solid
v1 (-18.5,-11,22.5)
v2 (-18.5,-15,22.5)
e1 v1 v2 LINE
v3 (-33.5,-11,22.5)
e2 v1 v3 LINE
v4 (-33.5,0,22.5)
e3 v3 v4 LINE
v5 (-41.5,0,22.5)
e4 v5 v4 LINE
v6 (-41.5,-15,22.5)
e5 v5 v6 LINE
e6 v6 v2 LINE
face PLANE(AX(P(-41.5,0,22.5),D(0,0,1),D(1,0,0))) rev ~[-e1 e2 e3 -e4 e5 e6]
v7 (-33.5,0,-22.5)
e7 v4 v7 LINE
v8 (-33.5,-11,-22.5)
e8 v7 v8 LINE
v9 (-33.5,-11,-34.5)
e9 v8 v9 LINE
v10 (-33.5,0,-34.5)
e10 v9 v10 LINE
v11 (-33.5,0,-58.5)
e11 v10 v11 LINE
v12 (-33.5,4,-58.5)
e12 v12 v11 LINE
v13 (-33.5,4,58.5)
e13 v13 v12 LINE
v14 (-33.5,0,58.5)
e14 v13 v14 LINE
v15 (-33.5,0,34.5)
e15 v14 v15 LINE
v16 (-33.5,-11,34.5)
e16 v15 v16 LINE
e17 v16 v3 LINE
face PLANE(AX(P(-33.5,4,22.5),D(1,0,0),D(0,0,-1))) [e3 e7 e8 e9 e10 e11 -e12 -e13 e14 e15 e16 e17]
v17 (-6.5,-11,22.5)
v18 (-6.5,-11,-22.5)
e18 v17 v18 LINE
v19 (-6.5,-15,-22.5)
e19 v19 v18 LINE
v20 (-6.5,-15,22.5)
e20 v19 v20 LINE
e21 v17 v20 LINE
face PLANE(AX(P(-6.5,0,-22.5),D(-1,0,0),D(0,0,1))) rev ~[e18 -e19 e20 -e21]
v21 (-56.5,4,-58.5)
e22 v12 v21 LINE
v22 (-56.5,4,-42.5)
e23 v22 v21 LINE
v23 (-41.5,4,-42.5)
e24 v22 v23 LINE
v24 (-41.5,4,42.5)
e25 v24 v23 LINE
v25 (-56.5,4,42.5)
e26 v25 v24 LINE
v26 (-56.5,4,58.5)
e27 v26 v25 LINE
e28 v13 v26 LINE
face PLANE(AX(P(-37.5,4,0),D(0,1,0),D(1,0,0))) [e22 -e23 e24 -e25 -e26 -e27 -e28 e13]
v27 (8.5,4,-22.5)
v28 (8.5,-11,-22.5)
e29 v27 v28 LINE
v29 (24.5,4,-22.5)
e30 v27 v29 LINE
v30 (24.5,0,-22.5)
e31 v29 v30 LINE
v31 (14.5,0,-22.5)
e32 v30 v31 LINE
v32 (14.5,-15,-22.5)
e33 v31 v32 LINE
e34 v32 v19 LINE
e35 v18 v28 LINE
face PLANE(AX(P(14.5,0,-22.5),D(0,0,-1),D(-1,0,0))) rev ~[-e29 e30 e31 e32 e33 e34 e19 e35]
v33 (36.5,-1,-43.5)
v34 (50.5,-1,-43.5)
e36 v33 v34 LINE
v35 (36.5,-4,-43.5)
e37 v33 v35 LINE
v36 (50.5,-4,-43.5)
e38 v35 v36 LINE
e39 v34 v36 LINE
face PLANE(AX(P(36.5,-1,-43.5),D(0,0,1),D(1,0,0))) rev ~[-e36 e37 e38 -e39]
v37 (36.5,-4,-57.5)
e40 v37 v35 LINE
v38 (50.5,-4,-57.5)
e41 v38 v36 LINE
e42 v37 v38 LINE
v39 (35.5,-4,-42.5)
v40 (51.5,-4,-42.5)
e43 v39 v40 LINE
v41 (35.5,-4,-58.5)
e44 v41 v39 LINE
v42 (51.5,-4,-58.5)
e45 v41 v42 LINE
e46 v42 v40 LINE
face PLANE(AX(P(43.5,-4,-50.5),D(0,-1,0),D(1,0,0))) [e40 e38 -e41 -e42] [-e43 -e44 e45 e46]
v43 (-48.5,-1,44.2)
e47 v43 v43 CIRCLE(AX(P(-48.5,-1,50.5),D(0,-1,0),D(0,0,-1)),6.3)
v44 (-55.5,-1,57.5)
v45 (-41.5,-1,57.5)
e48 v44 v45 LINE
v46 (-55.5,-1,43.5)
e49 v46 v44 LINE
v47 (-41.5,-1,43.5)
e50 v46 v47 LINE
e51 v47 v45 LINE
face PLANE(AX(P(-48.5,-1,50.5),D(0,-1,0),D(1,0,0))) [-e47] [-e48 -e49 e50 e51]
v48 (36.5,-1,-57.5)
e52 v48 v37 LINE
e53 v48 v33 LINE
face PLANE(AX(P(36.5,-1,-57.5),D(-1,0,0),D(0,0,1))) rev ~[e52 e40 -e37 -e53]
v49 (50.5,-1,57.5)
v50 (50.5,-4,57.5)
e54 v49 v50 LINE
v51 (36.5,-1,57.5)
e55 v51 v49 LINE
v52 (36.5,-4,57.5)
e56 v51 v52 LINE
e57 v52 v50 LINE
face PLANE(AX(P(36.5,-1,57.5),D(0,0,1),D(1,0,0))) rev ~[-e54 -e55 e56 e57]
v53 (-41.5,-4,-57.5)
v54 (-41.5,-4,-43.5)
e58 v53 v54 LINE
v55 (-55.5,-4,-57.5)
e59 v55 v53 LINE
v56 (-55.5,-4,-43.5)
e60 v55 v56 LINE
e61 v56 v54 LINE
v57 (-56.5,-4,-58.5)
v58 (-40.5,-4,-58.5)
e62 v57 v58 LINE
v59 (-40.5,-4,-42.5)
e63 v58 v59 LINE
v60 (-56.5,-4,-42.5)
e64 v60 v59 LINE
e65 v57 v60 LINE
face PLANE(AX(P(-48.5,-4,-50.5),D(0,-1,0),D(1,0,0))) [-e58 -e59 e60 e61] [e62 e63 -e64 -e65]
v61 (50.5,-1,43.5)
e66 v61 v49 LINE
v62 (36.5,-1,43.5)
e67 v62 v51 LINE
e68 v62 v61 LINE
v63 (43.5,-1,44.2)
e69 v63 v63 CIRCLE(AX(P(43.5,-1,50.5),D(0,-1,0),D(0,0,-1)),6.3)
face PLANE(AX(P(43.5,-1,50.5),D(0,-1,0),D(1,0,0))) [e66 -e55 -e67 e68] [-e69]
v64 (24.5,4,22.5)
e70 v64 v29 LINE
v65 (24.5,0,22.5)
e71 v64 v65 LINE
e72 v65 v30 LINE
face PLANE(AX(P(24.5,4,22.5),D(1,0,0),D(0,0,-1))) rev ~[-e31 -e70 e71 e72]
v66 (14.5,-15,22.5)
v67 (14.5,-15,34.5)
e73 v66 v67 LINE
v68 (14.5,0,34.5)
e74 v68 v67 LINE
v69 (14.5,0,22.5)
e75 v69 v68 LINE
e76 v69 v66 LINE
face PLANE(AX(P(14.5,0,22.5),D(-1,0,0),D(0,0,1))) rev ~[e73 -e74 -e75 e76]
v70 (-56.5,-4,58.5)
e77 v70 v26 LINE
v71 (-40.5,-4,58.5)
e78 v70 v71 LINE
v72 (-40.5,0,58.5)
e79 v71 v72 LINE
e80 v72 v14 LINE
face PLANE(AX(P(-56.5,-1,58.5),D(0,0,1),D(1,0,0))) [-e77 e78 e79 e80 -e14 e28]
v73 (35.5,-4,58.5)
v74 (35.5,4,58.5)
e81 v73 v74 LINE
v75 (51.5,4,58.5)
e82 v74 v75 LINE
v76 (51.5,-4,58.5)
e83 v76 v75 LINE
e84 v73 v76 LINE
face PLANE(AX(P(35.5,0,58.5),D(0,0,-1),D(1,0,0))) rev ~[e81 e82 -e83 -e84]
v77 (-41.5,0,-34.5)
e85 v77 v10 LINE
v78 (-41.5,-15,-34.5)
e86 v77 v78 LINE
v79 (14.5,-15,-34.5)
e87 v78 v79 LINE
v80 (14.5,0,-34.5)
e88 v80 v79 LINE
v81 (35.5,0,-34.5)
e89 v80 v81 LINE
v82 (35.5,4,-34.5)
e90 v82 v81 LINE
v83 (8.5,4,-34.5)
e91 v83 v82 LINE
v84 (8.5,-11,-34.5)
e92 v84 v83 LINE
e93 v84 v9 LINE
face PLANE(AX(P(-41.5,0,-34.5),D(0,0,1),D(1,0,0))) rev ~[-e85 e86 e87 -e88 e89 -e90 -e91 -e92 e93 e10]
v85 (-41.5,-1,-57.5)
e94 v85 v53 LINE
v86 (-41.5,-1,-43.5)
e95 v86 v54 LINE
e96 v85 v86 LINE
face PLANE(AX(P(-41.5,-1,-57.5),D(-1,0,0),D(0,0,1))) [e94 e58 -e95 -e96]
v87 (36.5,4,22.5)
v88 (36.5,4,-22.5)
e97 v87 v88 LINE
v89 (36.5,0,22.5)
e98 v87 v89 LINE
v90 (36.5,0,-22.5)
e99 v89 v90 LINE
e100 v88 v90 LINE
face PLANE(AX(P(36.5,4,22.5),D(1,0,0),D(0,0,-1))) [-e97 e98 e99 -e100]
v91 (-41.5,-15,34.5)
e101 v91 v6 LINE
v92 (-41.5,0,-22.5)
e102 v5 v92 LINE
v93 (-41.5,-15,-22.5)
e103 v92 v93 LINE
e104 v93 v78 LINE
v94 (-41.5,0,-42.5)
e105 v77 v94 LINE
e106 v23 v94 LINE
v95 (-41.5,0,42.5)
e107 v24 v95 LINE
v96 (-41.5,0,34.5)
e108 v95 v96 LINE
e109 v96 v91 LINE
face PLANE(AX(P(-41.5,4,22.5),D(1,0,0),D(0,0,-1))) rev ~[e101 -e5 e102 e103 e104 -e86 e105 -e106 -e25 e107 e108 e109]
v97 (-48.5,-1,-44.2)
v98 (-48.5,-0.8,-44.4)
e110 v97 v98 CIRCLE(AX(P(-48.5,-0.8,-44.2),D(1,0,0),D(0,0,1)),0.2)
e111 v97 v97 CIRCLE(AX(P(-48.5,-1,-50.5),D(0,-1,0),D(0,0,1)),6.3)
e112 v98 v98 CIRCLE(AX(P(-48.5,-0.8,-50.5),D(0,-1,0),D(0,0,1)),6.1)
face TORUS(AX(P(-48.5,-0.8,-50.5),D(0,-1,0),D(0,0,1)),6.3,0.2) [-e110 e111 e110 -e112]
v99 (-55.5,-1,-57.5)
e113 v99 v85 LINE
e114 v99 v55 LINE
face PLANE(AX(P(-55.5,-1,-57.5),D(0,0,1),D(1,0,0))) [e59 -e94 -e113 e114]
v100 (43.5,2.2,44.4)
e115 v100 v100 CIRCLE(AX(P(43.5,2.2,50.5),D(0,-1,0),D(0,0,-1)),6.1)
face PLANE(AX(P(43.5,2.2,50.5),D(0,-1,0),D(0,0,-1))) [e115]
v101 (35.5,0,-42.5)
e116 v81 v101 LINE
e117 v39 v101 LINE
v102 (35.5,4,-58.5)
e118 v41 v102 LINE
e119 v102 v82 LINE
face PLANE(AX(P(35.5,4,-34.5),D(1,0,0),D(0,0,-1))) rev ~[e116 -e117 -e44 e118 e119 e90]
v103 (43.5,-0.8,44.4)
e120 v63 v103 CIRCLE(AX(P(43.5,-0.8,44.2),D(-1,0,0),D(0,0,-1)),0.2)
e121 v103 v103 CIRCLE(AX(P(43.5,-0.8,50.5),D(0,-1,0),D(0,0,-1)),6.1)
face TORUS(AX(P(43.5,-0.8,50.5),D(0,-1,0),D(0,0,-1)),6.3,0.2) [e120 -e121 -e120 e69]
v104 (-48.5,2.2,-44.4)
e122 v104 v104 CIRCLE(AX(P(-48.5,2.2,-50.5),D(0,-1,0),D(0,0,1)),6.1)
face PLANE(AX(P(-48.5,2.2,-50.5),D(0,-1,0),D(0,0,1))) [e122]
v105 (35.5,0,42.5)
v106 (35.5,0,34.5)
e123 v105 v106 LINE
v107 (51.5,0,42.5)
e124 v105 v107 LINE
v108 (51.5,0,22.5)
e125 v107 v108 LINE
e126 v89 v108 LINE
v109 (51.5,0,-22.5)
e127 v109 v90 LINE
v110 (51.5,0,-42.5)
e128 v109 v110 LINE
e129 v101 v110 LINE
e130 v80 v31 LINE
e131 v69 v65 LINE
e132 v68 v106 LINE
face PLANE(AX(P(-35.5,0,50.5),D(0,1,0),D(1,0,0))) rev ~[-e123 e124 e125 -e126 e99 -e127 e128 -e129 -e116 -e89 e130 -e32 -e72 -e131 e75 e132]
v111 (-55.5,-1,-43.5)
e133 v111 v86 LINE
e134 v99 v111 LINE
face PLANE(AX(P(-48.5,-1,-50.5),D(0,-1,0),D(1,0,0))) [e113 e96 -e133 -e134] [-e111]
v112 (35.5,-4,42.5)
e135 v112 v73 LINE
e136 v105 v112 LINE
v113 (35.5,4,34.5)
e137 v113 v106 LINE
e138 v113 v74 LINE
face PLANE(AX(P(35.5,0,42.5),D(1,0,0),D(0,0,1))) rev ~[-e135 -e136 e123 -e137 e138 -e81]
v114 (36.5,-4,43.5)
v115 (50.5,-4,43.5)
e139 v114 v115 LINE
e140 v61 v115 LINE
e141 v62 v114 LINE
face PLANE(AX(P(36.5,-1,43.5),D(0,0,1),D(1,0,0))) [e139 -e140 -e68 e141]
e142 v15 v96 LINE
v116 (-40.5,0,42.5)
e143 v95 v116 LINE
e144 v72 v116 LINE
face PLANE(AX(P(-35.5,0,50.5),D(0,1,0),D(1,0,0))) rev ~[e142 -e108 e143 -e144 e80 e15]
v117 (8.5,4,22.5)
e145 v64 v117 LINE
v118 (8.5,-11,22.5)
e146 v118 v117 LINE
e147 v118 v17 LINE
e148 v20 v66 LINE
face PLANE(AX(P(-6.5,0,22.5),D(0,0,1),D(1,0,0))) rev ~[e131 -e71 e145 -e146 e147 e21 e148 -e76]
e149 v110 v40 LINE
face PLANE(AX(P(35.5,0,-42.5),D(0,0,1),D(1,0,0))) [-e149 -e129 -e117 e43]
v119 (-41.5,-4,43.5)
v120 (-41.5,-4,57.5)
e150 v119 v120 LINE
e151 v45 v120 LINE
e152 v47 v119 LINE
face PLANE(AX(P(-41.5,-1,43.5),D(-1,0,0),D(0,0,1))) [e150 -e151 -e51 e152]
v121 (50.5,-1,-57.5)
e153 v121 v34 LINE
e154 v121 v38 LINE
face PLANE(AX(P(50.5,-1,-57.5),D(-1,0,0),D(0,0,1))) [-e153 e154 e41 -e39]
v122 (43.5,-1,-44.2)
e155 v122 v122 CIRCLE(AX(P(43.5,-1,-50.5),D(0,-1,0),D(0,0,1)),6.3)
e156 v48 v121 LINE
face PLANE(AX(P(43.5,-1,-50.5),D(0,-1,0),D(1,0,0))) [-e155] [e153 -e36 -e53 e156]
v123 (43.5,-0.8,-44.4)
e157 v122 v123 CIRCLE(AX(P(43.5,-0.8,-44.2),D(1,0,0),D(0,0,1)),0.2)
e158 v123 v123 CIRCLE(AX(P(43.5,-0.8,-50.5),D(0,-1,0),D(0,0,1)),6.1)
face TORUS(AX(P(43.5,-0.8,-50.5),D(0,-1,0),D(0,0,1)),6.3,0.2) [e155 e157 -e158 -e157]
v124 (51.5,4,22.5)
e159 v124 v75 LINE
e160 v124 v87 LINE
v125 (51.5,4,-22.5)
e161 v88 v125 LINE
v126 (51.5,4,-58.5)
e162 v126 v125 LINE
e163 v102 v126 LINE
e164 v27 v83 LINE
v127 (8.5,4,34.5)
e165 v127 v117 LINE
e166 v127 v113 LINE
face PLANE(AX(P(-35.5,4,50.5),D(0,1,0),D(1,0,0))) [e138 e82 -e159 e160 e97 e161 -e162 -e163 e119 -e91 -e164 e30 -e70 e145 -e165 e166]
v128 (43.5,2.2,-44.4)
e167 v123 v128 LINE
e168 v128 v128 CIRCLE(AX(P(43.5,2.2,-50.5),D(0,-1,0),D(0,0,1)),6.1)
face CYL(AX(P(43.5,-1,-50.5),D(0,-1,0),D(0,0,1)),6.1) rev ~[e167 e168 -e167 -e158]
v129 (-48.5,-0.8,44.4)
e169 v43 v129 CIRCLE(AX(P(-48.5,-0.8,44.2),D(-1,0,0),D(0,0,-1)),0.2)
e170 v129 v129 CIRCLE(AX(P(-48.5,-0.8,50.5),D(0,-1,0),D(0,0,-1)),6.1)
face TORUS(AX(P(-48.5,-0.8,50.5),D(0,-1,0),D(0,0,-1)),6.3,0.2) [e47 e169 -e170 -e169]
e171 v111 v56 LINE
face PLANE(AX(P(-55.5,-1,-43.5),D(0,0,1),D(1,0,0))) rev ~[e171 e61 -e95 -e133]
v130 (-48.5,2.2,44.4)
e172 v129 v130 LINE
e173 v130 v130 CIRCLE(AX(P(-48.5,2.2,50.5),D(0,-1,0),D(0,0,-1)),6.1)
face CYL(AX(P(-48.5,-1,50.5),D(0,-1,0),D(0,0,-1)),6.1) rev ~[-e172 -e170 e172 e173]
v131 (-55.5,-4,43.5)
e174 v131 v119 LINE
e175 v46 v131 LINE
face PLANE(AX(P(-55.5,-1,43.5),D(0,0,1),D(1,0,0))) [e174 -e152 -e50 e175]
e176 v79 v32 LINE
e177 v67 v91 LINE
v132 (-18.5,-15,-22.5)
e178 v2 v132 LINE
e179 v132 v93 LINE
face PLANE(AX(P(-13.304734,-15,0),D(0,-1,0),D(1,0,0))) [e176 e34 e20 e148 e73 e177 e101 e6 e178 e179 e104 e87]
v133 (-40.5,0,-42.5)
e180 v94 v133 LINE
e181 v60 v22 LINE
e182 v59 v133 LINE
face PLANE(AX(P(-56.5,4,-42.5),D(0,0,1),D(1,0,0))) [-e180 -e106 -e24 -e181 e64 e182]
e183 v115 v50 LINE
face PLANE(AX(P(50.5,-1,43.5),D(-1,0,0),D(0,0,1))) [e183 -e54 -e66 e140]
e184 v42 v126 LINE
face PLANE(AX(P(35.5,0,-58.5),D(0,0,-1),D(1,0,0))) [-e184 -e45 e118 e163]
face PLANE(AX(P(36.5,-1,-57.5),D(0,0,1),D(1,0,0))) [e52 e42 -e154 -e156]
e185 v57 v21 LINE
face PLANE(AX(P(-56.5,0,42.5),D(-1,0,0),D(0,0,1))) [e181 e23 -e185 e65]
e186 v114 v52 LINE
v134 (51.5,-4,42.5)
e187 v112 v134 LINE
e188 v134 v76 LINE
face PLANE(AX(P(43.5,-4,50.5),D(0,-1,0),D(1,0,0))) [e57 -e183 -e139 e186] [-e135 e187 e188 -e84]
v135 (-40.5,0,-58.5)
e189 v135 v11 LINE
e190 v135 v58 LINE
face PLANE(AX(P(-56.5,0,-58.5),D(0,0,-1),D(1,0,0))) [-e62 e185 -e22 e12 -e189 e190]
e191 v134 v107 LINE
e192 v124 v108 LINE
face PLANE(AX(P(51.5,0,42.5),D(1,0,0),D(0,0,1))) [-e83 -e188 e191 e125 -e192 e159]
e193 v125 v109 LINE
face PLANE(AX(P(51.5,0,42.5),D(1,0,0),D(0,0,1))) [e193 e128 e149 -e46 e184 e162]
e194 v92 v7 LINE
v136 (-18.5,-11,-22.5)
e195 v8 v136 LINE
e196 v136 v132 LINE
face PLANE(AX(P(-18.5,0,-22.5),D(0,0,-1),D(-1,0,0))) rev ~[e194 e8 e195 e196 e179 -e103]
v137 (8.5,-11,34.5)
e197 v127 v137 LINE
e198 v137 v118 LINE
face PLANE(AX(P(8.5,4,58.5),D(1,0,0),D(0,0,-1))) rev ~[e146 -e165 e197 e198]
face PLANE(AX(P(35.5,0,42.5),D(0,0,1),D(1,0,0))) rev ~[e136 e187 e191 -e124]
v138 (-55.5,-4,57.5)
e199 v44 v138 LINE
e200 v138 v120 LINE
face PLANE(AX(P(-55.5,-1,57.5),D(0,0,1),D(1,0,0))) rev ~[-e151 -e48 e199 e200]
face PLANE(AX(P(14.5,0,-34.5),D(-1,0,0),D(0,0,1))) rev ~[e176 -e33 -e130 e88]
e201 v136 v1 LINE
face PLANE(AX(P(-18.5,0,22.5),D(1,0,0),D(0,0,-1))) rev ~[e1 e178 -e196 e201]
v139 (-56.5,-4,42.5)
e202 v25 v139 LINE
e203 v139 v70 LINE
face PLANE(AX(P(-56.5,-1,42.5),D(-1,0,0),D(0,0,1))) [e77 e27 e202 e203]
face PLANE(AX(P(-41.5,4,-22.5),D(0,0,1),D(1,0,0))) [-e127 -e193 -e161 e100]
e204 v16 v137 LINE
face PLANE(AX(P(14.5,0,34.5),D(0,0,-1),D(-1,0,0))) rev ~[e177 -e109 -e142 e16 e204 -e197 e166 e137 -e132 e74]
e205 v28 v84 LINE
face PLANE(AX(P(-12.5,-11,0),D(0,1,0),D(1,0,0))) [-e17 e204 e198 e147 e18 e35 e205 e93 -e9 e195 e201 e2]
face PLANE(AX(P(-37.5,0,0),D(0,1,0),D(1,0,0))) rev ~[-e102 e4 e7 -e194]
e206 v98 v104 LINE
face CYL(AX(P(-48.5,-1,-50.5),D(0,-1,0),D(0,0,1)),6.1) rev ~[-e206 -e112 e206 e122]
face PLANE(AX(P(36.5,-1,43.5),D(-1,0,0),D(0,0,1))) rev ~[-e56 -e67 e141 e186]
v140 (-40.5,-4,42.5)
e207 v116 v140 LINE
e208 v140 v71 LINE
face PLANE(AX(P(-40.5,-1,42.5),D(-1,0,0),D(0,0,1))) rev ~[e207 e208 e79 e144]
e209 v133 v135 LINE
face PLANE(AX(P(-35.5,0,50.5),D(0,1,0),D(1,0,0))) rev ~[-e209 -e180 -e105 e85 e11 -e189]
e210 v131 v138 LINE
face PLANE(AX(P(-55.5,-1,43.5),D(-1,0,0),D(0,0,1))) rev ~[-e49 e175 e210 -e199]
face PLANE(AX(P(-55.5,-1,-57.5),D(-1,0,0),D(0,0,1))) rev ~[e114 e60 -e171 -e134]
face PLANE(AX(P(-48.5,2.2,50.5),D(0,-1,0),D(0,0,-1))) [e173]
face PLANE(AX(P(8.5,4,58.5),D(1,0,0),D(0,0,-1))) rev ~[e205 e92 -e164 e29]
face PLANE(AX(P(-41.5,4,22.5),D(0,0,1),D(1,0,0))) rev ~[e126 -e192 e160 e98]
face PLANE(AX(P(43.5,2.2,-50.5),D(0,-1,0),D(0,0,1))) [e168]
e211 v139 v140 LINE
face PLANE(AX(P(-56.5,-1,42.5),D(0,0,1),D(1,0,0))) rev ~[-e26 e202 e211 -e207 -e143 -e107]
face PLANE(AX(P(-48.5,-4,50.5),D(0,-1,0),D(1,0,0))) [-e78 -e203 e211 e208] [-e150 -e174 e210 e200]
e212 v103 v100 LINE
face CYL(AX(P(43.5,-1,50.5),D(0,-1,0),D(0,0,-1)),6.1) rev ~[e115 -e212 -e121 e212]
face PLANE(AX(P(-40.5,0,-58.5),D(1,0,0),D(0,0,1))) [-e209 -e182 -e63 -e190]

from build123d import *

# Parameters (mm, degrees)
SKETCH1_W                       = 113
SKETCH1_H                       = 85
BOSS_EXTRUDE1_DEPTH             = 4
BOSS_EXTRUDE3_REACH             = 72.813
SKETCH4_W                       = 16
SKETCH4_H                       = 16
BOSS_EXTRUDE3_DIRECTION_2_DEPTH = 1
SKETCH10_W                      = 10
SKETCH10_H                      = 16
BOSS_EXTRUDE6_DEPTH             = 4
SKETCH6_W                       = 73
SKETCH6_H                       = 45
SKETCH6_W_2                     = 15
SKETCH6_H_2                     = 85
SKETCH6_W_3                     = 66
SKETCH6_H_3                     = 8
CUT_EXTRUDE2_DEPTH              = 82.483127088
SKETCH8_R                       = 6.1
CUT_EXTRUDE3_DEPTH              = 3.2
SKETCH9_W                       = 16
SKETCH9_H                       = 16
SKETCH9_W_2                     = 14
SKETCH9_H_2                     = 14
BOSS_EXTRUDE5_DEPTH             = 3
FILLET1_R                       = 0.2
SKETCH13_W                      = 85
SKETCH13_H                      = 4
CUT_EXTRUDE4_DEPTH              = 5
SKETCH14_W                      = 93
SKETCH14_H                      = 45
CUT_EXTRUDE5_DEPTH              = 82.722090037
SKETCH15_W                      = 12
SKETCH15_H                      = 45
BOSS_EXTRUDE7_DEPTH             = 4
BOSS_EXTRUDE8_DEPTH             = 15
SKETCH17_W                      = 42
SKETCH17_H                      = 117
CUT_EXTRUDE6_DEPTH              = 15
SKETCH18_W                      = 8
SKETCH18_H                      = 45
BOSS_EXTRUDE9_DEPTH             = 4


with BuildPart() as part:
    # Sketch1 → Boss-Extrude1 (new body)
    with BuildSketch(Plane(origin=(0, 0, 0), x_dir=(1, 0, 0), z_dir=(0, 1, 0))):
        Rectangle(SKETCH1_W, SKETCH1_H)
    extrude(amount=BOSS_EXTRUDE1_DEPTH)

    # Boss-Extrude3: up to this face of the body (flat: up to its plane)
    boss_extrude3_end = Plane(part.part.faces().sort_by_distance((0, 4, 0))[0])
    # Sketch4 → Boss-Extrude3 (add, up to the picked face)
    with BuildSketch(Plane.XZ, mode=Mode.PRIVATE) as boss_extrude3_sk1:
        with Locations((-48.5, 50.5)):
            Rectangle(SKETCH4_W, SKETCH4_H)
    boss_extrude3_tool1 = split(extrude(boss_extrude3_sk1.sketch, amount=-BOSS_EXTRUDE3_REACH, mode=Mode.PRIVATE), bisect_by=boss_extrude3_end, keep=Keep.BOTH, mode=Mode.PRIVATE)
    # Sketch4 → Boss-Extrude3 (add, up to the picked face)
    with BuildSketch(Plane.XZ, mode=Mode.PRIVATE) as boss_extrude3_sk2:
        with Locations((43.5, 50.5)):
            Rectangle(SKETCH4_W, SKETCH4_H)
    boss_extrude3_tool2 = split(extrude(boss_extrude3_sk2.sketch, amount=-BOSS_EXTRUDE3_REACH, mode=Mode.PRIVATE), bisect_by=boss_extrude3_end, keep=Keep.BOTH, mode=Mode.PRIVATE)
    # Sketch4 → Boss-Extrude3 (add, up to the picked face)
    with BuildSketch(Plane.XZ, mode=Mode.PRIVATE) as boss_extrude3_sk3:
        with Locations((43.5, -50.5)):
            Rectangle(SKETCH4_W, SKETCH4_H)
    boss_extrude3_tool3 = split(extrude(boss_extrude3_sk3.sketch, amount=-BOSS_EXTRUDE3_REACH, mode=Mode.PRIVATE), bisect_by=boss_extrude3_end, keep=Keep.BOTH, mode=Mode.PRIVATE)
    # Sketch4 → Boss-Extrude3 (add, up to the picked face)
    with BuildSketch(Plane.XZ, mode=Mode.PRIVATE) as boss_extrude3_sk4:
        with Locations((-48.5, -50.5)):
            Rectangle(SKETCH4_W, SKETCH4_H)
    boss_extrude3_tool4 = split(extrude(boss_extrude3_sk4.sketch, amount=-BOSS_EXTRUDE3_REACH, mode=Mode.PRIVATE), bisect_by=boss_extrude3_end, keep=Keep.BOTH, mode=Mode.PRIVATE)
    add(boss_extrude3_tool1.solids().sort_by(Axis((-48.5, 0, 50.5), (0, 1, 0)))[0])
    add(boss_extrude3_tool2.solids().sort_by(Axis((43.5, 0, 50.5), (0, 1, 0)))[0])
    add(boss_extrude3_tool3.solids().sort_by(Axis((43.5, 0, -50.5), (0, 1, 0)))[0])
    add(boss_extrude3_tool4.solids().sort_by(Axis((-48.5, 0, -50.5), (0, 1, 0)))[0])

    # Sketch4 → Boss-Extrude3 direction 2 (add)
    with BuildSketch(Plane.XZ):
        with Locations((-48.5, 50.5)):
            Rectangle(SKETCH4_W, SKETCH4_H)
        with Locations((43.5, 50.5)):
            Rectangle(SKETCH4_W, SKETCH4_H)
        with Locations((43.5, -50.5)):
            Rectangle(SKETCH4_W, SKETCH4_H)
        with Locations((-48.5, -50.5)):
            Rectangle(SKETCH4_W, SKETCH4_H)
    extrude(amount=BOSS_EXTRUDE3_DIRECTION_2_DEPTH)

    # Sketch10 → Boss-Extrude6 (add)
    with BuildSketch(Plane(origin=(0, 4, 0), x_dir=(1, 0, 0), z_dir=(0, 1, 0))):
        with Locations((-35.5, -50.5)):
            Rectangle(SKETCH10_W, SKETCH10_H)
        with Locations((-35.5, 50.5)):
            Rectangle(SKETCH10_W, SKETCH10_H)
    extrude(amount=-BOSS_EXTRUDE6_DEPTH)

    # Sketch6 → Cut-Extrude2 (cut, through all)
    with BuildSketch(Plane(origin=(0, 4, 0), x_dir=(1, 0, 0), z_dir=(0, 1, 0))):
        with Locations((5, 0)):
            Rectangle(SKETCH6_W, SKETCH6_H)
        with Locations((-49, 0)):
            Rectangle(SKETCH6_W_2, SKETCH6_H_2)
        with Locations((2.5, 38.5)):
            Rectangle(SKETCH6_W_3, SKETCH6_H_3)
        with Locations((2.5, -38.5)):
            Rectangle(SKETCH6_W_3, SKETCH6_H_3)
    extrude(amount=-CUT_EXTRUDE2_DEPTH, mode=Mode.SUBTRACT)

    # Sketch8 → Cut-Extrude3 (cut)
    with BuildSketch(Plane.XZ.offset(1)):
        with Locations(Location((-48.5, 50.5, 0), (0, 0, 270))):
            Circle(SKETCH8_R)
        with Locations(Location((43.5, 50.5, 0), (0, 0, 270))):
            Circle(SKETCH8_R)
        with Locations(Location((43.5, -50.5, 0), (0, 0, 90))):
            Circle(SKETCH8_R)
        with Locations(Location((-48.5, -50.5, 0), (0, 0, 90))):
            Circle(SKETCH8_R)
    extrude(amount=-CUT_EXTRUDE3_DEPTH, mode=Mode.SUBTRACT)

    # Sketch9 → Boss-Extrude5 (add)
    # profile 1 of 4: a face of its own
    with BuildSketch(Plane.XZ.offset(1)):
        with Locations((-48.5, 50.5)):
            Rectangle(SKETCH9_W, SKETCH9_H)
        with Locations((-48.5, 50.5)):
            Rectangle(SKETCH9_W_2, SKETCH9_H_2, mode=Mode.SUBTRACT)
    # profile 2 of 4: a face of its own
    with BuildSketch(Plane.XZ.offset(1)):
        with Locations((43.5, 50.5)):
            Rectangle(SKETCH9_W, SKETCH9_H)
        with Locations((43.5, 50.5)):
            Rectangle(SKETCH9_W_2, SKETCH9_H_2, mode=Mode.SUBTRACT)
    # profile 3 of 4: a face of its own
    with BuildSketch(Plane.XZ.offset(1)):
        with Locations((43.5, -50.5)):
            Rectangle(SKETCH9_W, SKETCH9_H)
        with Locations((43.5, -50.5)):
            Rectangle(SKETCH9_W_2, SKETCH9_H_2, mode=Mode.SUBTRACT)
    # profile 4 of 4: a face of its own
    with BuildSketch(Plane.XZ.offset(1)):
        with Locations((-48.5, -50.5)):
            Rectangle(SKETCH9_W, SKETCH9_H)
        with Locations((-48.5, -50.5)):
            Rectangle(SKETCH9_W_2, SKETCH9_H_2, mode=Mode.SUBTRACT)
    extrude(amount=BOSS_EXTRUDE5_DEPTH)

    # Fillet1
    fillet1_edges = [part.edges().sort_by_distance(p)[0] for p in [
        (-48.5, -1, -56.6),
        (43.5, -1, -56.6),
        (43.5, -1, 56.6),
        (-48.5, -1, 56.6),
    ]]
    fillet(fillet1_edges, radius=FILLET1_R)

    # Sketch13 → Cut-Extrude4 (cut)
    with BuildSketch(Plane(origin=(56.5, 0, 0), x_dir=(0, 0, -1), z_dir=(1, 0, 0))):
        with Locations((0, 2)):
            Rectangle(SKETCH13_W, SKETCH13_H)
    extrude(amount=-CUT_EXTRUDE4_DEPTH, mode=Mode.SUBTRACT)

    # Sketch14 → Cut-Extrude5 (cut, through all)
    with BuildSketch(Plane(origin=(0, 4, 0), x_dir=(1, 0, 0), z_dir=(0, 1, 0))):
        with Locations((5, 0)):
            Rectangle(SKETCH14_W, SKETCH14_H)
    extrude(amount=-CUT_EXTRUDE5_DEPTH, mode=Mode.SUBTRACT)


with BuildPart() as cut_extrude5_piece_1:
    # of the separate pieces the step leaves, piece 1, a body of its own (cut_extrude5_pieces)
    add(part.part.solids().sort_by_distance((-40.5, 0, -42.5))[0])



with BuildPart() as cut_extrude5_piece_2:
    # of the separate pieces the step leaves, piece 2, a body of its own (cut_extrude5_pieces)
    add(part.part.solids().sort_by_distance((-48.5, -1, 44.2))[0])


with BuildPart() as cut_extrude5_piece_1_1:
    add(cut_extrude5_piece_1.part)

    add(cut_extrude5_piece_2.part)  # Boss-Extrude7 merges Cut-Extrude5 piece 2
    # Sketch15 → Boss-Extrude7 (add)
    with BuildSketch(Plane(origin=(0, 4, 0), x_dir=(1, 0, 0), z_dir=(0, 1, 0))):
        with Locations((-12.5, 0)):
            Rectangle(SKETCH15_W, SKETCH15_H)
        with Locations((30.5, 0)):
            Rectangle(SKETCH15_W, SKETCH15_H)
    extrude(amount=-BOSS_EXTRUDE7_DEPTH)

    # Sketch16 → Boss-Extrude8 (add)
    with BuildSketch(Plane.XZ):
        Polygon((-6.5, -22.5), (-6.5, 22.5), (14.5, 22.5), (14.5, 34.5), (-30.5, 34.5), (-41.5, 34.5), (-41.5, 22.5), (-18.5, 22.5), (-18.5, -22.5), (-41.5, -22.5), (-41.5, -34.5), (-30.5, -34.5), (14.5, -34.5), (14.5, -22.5), align=None)
    extrude(amount=BOSS_EXTRUDE8_DEPTH)

    # Sketch17 → Cut-Extrude6 (cut)
    with BuildSketch(Plane(origin=(0, 4, 0), x_dir=(1, 0, 0), z_dir=(0, 1, 0))):
        with Locations((-12.5, 0)):
            Rectangle(SKETCH17_W, SKETCH17_H)
    extrude(amount=-CUT_EXTRUDE6_DEPTH, mode=Mode.SUBTRACT)

    # Sketch18 → Boss-Extrude9 (add)
    with BuildSketch(Plane(origin=(0, 4, 0), x_dir=(1, 0, 0), z_dir=(0, 1, 0))):
        with Locations((-37.5, 0)):
            Rectangle(SKETCH18_W, SKETCH18_H)
    extrude(amount=-BOSS_EXTRUDE9_DEPTH)


solid = cut_extrude5_piece_1_1.part
